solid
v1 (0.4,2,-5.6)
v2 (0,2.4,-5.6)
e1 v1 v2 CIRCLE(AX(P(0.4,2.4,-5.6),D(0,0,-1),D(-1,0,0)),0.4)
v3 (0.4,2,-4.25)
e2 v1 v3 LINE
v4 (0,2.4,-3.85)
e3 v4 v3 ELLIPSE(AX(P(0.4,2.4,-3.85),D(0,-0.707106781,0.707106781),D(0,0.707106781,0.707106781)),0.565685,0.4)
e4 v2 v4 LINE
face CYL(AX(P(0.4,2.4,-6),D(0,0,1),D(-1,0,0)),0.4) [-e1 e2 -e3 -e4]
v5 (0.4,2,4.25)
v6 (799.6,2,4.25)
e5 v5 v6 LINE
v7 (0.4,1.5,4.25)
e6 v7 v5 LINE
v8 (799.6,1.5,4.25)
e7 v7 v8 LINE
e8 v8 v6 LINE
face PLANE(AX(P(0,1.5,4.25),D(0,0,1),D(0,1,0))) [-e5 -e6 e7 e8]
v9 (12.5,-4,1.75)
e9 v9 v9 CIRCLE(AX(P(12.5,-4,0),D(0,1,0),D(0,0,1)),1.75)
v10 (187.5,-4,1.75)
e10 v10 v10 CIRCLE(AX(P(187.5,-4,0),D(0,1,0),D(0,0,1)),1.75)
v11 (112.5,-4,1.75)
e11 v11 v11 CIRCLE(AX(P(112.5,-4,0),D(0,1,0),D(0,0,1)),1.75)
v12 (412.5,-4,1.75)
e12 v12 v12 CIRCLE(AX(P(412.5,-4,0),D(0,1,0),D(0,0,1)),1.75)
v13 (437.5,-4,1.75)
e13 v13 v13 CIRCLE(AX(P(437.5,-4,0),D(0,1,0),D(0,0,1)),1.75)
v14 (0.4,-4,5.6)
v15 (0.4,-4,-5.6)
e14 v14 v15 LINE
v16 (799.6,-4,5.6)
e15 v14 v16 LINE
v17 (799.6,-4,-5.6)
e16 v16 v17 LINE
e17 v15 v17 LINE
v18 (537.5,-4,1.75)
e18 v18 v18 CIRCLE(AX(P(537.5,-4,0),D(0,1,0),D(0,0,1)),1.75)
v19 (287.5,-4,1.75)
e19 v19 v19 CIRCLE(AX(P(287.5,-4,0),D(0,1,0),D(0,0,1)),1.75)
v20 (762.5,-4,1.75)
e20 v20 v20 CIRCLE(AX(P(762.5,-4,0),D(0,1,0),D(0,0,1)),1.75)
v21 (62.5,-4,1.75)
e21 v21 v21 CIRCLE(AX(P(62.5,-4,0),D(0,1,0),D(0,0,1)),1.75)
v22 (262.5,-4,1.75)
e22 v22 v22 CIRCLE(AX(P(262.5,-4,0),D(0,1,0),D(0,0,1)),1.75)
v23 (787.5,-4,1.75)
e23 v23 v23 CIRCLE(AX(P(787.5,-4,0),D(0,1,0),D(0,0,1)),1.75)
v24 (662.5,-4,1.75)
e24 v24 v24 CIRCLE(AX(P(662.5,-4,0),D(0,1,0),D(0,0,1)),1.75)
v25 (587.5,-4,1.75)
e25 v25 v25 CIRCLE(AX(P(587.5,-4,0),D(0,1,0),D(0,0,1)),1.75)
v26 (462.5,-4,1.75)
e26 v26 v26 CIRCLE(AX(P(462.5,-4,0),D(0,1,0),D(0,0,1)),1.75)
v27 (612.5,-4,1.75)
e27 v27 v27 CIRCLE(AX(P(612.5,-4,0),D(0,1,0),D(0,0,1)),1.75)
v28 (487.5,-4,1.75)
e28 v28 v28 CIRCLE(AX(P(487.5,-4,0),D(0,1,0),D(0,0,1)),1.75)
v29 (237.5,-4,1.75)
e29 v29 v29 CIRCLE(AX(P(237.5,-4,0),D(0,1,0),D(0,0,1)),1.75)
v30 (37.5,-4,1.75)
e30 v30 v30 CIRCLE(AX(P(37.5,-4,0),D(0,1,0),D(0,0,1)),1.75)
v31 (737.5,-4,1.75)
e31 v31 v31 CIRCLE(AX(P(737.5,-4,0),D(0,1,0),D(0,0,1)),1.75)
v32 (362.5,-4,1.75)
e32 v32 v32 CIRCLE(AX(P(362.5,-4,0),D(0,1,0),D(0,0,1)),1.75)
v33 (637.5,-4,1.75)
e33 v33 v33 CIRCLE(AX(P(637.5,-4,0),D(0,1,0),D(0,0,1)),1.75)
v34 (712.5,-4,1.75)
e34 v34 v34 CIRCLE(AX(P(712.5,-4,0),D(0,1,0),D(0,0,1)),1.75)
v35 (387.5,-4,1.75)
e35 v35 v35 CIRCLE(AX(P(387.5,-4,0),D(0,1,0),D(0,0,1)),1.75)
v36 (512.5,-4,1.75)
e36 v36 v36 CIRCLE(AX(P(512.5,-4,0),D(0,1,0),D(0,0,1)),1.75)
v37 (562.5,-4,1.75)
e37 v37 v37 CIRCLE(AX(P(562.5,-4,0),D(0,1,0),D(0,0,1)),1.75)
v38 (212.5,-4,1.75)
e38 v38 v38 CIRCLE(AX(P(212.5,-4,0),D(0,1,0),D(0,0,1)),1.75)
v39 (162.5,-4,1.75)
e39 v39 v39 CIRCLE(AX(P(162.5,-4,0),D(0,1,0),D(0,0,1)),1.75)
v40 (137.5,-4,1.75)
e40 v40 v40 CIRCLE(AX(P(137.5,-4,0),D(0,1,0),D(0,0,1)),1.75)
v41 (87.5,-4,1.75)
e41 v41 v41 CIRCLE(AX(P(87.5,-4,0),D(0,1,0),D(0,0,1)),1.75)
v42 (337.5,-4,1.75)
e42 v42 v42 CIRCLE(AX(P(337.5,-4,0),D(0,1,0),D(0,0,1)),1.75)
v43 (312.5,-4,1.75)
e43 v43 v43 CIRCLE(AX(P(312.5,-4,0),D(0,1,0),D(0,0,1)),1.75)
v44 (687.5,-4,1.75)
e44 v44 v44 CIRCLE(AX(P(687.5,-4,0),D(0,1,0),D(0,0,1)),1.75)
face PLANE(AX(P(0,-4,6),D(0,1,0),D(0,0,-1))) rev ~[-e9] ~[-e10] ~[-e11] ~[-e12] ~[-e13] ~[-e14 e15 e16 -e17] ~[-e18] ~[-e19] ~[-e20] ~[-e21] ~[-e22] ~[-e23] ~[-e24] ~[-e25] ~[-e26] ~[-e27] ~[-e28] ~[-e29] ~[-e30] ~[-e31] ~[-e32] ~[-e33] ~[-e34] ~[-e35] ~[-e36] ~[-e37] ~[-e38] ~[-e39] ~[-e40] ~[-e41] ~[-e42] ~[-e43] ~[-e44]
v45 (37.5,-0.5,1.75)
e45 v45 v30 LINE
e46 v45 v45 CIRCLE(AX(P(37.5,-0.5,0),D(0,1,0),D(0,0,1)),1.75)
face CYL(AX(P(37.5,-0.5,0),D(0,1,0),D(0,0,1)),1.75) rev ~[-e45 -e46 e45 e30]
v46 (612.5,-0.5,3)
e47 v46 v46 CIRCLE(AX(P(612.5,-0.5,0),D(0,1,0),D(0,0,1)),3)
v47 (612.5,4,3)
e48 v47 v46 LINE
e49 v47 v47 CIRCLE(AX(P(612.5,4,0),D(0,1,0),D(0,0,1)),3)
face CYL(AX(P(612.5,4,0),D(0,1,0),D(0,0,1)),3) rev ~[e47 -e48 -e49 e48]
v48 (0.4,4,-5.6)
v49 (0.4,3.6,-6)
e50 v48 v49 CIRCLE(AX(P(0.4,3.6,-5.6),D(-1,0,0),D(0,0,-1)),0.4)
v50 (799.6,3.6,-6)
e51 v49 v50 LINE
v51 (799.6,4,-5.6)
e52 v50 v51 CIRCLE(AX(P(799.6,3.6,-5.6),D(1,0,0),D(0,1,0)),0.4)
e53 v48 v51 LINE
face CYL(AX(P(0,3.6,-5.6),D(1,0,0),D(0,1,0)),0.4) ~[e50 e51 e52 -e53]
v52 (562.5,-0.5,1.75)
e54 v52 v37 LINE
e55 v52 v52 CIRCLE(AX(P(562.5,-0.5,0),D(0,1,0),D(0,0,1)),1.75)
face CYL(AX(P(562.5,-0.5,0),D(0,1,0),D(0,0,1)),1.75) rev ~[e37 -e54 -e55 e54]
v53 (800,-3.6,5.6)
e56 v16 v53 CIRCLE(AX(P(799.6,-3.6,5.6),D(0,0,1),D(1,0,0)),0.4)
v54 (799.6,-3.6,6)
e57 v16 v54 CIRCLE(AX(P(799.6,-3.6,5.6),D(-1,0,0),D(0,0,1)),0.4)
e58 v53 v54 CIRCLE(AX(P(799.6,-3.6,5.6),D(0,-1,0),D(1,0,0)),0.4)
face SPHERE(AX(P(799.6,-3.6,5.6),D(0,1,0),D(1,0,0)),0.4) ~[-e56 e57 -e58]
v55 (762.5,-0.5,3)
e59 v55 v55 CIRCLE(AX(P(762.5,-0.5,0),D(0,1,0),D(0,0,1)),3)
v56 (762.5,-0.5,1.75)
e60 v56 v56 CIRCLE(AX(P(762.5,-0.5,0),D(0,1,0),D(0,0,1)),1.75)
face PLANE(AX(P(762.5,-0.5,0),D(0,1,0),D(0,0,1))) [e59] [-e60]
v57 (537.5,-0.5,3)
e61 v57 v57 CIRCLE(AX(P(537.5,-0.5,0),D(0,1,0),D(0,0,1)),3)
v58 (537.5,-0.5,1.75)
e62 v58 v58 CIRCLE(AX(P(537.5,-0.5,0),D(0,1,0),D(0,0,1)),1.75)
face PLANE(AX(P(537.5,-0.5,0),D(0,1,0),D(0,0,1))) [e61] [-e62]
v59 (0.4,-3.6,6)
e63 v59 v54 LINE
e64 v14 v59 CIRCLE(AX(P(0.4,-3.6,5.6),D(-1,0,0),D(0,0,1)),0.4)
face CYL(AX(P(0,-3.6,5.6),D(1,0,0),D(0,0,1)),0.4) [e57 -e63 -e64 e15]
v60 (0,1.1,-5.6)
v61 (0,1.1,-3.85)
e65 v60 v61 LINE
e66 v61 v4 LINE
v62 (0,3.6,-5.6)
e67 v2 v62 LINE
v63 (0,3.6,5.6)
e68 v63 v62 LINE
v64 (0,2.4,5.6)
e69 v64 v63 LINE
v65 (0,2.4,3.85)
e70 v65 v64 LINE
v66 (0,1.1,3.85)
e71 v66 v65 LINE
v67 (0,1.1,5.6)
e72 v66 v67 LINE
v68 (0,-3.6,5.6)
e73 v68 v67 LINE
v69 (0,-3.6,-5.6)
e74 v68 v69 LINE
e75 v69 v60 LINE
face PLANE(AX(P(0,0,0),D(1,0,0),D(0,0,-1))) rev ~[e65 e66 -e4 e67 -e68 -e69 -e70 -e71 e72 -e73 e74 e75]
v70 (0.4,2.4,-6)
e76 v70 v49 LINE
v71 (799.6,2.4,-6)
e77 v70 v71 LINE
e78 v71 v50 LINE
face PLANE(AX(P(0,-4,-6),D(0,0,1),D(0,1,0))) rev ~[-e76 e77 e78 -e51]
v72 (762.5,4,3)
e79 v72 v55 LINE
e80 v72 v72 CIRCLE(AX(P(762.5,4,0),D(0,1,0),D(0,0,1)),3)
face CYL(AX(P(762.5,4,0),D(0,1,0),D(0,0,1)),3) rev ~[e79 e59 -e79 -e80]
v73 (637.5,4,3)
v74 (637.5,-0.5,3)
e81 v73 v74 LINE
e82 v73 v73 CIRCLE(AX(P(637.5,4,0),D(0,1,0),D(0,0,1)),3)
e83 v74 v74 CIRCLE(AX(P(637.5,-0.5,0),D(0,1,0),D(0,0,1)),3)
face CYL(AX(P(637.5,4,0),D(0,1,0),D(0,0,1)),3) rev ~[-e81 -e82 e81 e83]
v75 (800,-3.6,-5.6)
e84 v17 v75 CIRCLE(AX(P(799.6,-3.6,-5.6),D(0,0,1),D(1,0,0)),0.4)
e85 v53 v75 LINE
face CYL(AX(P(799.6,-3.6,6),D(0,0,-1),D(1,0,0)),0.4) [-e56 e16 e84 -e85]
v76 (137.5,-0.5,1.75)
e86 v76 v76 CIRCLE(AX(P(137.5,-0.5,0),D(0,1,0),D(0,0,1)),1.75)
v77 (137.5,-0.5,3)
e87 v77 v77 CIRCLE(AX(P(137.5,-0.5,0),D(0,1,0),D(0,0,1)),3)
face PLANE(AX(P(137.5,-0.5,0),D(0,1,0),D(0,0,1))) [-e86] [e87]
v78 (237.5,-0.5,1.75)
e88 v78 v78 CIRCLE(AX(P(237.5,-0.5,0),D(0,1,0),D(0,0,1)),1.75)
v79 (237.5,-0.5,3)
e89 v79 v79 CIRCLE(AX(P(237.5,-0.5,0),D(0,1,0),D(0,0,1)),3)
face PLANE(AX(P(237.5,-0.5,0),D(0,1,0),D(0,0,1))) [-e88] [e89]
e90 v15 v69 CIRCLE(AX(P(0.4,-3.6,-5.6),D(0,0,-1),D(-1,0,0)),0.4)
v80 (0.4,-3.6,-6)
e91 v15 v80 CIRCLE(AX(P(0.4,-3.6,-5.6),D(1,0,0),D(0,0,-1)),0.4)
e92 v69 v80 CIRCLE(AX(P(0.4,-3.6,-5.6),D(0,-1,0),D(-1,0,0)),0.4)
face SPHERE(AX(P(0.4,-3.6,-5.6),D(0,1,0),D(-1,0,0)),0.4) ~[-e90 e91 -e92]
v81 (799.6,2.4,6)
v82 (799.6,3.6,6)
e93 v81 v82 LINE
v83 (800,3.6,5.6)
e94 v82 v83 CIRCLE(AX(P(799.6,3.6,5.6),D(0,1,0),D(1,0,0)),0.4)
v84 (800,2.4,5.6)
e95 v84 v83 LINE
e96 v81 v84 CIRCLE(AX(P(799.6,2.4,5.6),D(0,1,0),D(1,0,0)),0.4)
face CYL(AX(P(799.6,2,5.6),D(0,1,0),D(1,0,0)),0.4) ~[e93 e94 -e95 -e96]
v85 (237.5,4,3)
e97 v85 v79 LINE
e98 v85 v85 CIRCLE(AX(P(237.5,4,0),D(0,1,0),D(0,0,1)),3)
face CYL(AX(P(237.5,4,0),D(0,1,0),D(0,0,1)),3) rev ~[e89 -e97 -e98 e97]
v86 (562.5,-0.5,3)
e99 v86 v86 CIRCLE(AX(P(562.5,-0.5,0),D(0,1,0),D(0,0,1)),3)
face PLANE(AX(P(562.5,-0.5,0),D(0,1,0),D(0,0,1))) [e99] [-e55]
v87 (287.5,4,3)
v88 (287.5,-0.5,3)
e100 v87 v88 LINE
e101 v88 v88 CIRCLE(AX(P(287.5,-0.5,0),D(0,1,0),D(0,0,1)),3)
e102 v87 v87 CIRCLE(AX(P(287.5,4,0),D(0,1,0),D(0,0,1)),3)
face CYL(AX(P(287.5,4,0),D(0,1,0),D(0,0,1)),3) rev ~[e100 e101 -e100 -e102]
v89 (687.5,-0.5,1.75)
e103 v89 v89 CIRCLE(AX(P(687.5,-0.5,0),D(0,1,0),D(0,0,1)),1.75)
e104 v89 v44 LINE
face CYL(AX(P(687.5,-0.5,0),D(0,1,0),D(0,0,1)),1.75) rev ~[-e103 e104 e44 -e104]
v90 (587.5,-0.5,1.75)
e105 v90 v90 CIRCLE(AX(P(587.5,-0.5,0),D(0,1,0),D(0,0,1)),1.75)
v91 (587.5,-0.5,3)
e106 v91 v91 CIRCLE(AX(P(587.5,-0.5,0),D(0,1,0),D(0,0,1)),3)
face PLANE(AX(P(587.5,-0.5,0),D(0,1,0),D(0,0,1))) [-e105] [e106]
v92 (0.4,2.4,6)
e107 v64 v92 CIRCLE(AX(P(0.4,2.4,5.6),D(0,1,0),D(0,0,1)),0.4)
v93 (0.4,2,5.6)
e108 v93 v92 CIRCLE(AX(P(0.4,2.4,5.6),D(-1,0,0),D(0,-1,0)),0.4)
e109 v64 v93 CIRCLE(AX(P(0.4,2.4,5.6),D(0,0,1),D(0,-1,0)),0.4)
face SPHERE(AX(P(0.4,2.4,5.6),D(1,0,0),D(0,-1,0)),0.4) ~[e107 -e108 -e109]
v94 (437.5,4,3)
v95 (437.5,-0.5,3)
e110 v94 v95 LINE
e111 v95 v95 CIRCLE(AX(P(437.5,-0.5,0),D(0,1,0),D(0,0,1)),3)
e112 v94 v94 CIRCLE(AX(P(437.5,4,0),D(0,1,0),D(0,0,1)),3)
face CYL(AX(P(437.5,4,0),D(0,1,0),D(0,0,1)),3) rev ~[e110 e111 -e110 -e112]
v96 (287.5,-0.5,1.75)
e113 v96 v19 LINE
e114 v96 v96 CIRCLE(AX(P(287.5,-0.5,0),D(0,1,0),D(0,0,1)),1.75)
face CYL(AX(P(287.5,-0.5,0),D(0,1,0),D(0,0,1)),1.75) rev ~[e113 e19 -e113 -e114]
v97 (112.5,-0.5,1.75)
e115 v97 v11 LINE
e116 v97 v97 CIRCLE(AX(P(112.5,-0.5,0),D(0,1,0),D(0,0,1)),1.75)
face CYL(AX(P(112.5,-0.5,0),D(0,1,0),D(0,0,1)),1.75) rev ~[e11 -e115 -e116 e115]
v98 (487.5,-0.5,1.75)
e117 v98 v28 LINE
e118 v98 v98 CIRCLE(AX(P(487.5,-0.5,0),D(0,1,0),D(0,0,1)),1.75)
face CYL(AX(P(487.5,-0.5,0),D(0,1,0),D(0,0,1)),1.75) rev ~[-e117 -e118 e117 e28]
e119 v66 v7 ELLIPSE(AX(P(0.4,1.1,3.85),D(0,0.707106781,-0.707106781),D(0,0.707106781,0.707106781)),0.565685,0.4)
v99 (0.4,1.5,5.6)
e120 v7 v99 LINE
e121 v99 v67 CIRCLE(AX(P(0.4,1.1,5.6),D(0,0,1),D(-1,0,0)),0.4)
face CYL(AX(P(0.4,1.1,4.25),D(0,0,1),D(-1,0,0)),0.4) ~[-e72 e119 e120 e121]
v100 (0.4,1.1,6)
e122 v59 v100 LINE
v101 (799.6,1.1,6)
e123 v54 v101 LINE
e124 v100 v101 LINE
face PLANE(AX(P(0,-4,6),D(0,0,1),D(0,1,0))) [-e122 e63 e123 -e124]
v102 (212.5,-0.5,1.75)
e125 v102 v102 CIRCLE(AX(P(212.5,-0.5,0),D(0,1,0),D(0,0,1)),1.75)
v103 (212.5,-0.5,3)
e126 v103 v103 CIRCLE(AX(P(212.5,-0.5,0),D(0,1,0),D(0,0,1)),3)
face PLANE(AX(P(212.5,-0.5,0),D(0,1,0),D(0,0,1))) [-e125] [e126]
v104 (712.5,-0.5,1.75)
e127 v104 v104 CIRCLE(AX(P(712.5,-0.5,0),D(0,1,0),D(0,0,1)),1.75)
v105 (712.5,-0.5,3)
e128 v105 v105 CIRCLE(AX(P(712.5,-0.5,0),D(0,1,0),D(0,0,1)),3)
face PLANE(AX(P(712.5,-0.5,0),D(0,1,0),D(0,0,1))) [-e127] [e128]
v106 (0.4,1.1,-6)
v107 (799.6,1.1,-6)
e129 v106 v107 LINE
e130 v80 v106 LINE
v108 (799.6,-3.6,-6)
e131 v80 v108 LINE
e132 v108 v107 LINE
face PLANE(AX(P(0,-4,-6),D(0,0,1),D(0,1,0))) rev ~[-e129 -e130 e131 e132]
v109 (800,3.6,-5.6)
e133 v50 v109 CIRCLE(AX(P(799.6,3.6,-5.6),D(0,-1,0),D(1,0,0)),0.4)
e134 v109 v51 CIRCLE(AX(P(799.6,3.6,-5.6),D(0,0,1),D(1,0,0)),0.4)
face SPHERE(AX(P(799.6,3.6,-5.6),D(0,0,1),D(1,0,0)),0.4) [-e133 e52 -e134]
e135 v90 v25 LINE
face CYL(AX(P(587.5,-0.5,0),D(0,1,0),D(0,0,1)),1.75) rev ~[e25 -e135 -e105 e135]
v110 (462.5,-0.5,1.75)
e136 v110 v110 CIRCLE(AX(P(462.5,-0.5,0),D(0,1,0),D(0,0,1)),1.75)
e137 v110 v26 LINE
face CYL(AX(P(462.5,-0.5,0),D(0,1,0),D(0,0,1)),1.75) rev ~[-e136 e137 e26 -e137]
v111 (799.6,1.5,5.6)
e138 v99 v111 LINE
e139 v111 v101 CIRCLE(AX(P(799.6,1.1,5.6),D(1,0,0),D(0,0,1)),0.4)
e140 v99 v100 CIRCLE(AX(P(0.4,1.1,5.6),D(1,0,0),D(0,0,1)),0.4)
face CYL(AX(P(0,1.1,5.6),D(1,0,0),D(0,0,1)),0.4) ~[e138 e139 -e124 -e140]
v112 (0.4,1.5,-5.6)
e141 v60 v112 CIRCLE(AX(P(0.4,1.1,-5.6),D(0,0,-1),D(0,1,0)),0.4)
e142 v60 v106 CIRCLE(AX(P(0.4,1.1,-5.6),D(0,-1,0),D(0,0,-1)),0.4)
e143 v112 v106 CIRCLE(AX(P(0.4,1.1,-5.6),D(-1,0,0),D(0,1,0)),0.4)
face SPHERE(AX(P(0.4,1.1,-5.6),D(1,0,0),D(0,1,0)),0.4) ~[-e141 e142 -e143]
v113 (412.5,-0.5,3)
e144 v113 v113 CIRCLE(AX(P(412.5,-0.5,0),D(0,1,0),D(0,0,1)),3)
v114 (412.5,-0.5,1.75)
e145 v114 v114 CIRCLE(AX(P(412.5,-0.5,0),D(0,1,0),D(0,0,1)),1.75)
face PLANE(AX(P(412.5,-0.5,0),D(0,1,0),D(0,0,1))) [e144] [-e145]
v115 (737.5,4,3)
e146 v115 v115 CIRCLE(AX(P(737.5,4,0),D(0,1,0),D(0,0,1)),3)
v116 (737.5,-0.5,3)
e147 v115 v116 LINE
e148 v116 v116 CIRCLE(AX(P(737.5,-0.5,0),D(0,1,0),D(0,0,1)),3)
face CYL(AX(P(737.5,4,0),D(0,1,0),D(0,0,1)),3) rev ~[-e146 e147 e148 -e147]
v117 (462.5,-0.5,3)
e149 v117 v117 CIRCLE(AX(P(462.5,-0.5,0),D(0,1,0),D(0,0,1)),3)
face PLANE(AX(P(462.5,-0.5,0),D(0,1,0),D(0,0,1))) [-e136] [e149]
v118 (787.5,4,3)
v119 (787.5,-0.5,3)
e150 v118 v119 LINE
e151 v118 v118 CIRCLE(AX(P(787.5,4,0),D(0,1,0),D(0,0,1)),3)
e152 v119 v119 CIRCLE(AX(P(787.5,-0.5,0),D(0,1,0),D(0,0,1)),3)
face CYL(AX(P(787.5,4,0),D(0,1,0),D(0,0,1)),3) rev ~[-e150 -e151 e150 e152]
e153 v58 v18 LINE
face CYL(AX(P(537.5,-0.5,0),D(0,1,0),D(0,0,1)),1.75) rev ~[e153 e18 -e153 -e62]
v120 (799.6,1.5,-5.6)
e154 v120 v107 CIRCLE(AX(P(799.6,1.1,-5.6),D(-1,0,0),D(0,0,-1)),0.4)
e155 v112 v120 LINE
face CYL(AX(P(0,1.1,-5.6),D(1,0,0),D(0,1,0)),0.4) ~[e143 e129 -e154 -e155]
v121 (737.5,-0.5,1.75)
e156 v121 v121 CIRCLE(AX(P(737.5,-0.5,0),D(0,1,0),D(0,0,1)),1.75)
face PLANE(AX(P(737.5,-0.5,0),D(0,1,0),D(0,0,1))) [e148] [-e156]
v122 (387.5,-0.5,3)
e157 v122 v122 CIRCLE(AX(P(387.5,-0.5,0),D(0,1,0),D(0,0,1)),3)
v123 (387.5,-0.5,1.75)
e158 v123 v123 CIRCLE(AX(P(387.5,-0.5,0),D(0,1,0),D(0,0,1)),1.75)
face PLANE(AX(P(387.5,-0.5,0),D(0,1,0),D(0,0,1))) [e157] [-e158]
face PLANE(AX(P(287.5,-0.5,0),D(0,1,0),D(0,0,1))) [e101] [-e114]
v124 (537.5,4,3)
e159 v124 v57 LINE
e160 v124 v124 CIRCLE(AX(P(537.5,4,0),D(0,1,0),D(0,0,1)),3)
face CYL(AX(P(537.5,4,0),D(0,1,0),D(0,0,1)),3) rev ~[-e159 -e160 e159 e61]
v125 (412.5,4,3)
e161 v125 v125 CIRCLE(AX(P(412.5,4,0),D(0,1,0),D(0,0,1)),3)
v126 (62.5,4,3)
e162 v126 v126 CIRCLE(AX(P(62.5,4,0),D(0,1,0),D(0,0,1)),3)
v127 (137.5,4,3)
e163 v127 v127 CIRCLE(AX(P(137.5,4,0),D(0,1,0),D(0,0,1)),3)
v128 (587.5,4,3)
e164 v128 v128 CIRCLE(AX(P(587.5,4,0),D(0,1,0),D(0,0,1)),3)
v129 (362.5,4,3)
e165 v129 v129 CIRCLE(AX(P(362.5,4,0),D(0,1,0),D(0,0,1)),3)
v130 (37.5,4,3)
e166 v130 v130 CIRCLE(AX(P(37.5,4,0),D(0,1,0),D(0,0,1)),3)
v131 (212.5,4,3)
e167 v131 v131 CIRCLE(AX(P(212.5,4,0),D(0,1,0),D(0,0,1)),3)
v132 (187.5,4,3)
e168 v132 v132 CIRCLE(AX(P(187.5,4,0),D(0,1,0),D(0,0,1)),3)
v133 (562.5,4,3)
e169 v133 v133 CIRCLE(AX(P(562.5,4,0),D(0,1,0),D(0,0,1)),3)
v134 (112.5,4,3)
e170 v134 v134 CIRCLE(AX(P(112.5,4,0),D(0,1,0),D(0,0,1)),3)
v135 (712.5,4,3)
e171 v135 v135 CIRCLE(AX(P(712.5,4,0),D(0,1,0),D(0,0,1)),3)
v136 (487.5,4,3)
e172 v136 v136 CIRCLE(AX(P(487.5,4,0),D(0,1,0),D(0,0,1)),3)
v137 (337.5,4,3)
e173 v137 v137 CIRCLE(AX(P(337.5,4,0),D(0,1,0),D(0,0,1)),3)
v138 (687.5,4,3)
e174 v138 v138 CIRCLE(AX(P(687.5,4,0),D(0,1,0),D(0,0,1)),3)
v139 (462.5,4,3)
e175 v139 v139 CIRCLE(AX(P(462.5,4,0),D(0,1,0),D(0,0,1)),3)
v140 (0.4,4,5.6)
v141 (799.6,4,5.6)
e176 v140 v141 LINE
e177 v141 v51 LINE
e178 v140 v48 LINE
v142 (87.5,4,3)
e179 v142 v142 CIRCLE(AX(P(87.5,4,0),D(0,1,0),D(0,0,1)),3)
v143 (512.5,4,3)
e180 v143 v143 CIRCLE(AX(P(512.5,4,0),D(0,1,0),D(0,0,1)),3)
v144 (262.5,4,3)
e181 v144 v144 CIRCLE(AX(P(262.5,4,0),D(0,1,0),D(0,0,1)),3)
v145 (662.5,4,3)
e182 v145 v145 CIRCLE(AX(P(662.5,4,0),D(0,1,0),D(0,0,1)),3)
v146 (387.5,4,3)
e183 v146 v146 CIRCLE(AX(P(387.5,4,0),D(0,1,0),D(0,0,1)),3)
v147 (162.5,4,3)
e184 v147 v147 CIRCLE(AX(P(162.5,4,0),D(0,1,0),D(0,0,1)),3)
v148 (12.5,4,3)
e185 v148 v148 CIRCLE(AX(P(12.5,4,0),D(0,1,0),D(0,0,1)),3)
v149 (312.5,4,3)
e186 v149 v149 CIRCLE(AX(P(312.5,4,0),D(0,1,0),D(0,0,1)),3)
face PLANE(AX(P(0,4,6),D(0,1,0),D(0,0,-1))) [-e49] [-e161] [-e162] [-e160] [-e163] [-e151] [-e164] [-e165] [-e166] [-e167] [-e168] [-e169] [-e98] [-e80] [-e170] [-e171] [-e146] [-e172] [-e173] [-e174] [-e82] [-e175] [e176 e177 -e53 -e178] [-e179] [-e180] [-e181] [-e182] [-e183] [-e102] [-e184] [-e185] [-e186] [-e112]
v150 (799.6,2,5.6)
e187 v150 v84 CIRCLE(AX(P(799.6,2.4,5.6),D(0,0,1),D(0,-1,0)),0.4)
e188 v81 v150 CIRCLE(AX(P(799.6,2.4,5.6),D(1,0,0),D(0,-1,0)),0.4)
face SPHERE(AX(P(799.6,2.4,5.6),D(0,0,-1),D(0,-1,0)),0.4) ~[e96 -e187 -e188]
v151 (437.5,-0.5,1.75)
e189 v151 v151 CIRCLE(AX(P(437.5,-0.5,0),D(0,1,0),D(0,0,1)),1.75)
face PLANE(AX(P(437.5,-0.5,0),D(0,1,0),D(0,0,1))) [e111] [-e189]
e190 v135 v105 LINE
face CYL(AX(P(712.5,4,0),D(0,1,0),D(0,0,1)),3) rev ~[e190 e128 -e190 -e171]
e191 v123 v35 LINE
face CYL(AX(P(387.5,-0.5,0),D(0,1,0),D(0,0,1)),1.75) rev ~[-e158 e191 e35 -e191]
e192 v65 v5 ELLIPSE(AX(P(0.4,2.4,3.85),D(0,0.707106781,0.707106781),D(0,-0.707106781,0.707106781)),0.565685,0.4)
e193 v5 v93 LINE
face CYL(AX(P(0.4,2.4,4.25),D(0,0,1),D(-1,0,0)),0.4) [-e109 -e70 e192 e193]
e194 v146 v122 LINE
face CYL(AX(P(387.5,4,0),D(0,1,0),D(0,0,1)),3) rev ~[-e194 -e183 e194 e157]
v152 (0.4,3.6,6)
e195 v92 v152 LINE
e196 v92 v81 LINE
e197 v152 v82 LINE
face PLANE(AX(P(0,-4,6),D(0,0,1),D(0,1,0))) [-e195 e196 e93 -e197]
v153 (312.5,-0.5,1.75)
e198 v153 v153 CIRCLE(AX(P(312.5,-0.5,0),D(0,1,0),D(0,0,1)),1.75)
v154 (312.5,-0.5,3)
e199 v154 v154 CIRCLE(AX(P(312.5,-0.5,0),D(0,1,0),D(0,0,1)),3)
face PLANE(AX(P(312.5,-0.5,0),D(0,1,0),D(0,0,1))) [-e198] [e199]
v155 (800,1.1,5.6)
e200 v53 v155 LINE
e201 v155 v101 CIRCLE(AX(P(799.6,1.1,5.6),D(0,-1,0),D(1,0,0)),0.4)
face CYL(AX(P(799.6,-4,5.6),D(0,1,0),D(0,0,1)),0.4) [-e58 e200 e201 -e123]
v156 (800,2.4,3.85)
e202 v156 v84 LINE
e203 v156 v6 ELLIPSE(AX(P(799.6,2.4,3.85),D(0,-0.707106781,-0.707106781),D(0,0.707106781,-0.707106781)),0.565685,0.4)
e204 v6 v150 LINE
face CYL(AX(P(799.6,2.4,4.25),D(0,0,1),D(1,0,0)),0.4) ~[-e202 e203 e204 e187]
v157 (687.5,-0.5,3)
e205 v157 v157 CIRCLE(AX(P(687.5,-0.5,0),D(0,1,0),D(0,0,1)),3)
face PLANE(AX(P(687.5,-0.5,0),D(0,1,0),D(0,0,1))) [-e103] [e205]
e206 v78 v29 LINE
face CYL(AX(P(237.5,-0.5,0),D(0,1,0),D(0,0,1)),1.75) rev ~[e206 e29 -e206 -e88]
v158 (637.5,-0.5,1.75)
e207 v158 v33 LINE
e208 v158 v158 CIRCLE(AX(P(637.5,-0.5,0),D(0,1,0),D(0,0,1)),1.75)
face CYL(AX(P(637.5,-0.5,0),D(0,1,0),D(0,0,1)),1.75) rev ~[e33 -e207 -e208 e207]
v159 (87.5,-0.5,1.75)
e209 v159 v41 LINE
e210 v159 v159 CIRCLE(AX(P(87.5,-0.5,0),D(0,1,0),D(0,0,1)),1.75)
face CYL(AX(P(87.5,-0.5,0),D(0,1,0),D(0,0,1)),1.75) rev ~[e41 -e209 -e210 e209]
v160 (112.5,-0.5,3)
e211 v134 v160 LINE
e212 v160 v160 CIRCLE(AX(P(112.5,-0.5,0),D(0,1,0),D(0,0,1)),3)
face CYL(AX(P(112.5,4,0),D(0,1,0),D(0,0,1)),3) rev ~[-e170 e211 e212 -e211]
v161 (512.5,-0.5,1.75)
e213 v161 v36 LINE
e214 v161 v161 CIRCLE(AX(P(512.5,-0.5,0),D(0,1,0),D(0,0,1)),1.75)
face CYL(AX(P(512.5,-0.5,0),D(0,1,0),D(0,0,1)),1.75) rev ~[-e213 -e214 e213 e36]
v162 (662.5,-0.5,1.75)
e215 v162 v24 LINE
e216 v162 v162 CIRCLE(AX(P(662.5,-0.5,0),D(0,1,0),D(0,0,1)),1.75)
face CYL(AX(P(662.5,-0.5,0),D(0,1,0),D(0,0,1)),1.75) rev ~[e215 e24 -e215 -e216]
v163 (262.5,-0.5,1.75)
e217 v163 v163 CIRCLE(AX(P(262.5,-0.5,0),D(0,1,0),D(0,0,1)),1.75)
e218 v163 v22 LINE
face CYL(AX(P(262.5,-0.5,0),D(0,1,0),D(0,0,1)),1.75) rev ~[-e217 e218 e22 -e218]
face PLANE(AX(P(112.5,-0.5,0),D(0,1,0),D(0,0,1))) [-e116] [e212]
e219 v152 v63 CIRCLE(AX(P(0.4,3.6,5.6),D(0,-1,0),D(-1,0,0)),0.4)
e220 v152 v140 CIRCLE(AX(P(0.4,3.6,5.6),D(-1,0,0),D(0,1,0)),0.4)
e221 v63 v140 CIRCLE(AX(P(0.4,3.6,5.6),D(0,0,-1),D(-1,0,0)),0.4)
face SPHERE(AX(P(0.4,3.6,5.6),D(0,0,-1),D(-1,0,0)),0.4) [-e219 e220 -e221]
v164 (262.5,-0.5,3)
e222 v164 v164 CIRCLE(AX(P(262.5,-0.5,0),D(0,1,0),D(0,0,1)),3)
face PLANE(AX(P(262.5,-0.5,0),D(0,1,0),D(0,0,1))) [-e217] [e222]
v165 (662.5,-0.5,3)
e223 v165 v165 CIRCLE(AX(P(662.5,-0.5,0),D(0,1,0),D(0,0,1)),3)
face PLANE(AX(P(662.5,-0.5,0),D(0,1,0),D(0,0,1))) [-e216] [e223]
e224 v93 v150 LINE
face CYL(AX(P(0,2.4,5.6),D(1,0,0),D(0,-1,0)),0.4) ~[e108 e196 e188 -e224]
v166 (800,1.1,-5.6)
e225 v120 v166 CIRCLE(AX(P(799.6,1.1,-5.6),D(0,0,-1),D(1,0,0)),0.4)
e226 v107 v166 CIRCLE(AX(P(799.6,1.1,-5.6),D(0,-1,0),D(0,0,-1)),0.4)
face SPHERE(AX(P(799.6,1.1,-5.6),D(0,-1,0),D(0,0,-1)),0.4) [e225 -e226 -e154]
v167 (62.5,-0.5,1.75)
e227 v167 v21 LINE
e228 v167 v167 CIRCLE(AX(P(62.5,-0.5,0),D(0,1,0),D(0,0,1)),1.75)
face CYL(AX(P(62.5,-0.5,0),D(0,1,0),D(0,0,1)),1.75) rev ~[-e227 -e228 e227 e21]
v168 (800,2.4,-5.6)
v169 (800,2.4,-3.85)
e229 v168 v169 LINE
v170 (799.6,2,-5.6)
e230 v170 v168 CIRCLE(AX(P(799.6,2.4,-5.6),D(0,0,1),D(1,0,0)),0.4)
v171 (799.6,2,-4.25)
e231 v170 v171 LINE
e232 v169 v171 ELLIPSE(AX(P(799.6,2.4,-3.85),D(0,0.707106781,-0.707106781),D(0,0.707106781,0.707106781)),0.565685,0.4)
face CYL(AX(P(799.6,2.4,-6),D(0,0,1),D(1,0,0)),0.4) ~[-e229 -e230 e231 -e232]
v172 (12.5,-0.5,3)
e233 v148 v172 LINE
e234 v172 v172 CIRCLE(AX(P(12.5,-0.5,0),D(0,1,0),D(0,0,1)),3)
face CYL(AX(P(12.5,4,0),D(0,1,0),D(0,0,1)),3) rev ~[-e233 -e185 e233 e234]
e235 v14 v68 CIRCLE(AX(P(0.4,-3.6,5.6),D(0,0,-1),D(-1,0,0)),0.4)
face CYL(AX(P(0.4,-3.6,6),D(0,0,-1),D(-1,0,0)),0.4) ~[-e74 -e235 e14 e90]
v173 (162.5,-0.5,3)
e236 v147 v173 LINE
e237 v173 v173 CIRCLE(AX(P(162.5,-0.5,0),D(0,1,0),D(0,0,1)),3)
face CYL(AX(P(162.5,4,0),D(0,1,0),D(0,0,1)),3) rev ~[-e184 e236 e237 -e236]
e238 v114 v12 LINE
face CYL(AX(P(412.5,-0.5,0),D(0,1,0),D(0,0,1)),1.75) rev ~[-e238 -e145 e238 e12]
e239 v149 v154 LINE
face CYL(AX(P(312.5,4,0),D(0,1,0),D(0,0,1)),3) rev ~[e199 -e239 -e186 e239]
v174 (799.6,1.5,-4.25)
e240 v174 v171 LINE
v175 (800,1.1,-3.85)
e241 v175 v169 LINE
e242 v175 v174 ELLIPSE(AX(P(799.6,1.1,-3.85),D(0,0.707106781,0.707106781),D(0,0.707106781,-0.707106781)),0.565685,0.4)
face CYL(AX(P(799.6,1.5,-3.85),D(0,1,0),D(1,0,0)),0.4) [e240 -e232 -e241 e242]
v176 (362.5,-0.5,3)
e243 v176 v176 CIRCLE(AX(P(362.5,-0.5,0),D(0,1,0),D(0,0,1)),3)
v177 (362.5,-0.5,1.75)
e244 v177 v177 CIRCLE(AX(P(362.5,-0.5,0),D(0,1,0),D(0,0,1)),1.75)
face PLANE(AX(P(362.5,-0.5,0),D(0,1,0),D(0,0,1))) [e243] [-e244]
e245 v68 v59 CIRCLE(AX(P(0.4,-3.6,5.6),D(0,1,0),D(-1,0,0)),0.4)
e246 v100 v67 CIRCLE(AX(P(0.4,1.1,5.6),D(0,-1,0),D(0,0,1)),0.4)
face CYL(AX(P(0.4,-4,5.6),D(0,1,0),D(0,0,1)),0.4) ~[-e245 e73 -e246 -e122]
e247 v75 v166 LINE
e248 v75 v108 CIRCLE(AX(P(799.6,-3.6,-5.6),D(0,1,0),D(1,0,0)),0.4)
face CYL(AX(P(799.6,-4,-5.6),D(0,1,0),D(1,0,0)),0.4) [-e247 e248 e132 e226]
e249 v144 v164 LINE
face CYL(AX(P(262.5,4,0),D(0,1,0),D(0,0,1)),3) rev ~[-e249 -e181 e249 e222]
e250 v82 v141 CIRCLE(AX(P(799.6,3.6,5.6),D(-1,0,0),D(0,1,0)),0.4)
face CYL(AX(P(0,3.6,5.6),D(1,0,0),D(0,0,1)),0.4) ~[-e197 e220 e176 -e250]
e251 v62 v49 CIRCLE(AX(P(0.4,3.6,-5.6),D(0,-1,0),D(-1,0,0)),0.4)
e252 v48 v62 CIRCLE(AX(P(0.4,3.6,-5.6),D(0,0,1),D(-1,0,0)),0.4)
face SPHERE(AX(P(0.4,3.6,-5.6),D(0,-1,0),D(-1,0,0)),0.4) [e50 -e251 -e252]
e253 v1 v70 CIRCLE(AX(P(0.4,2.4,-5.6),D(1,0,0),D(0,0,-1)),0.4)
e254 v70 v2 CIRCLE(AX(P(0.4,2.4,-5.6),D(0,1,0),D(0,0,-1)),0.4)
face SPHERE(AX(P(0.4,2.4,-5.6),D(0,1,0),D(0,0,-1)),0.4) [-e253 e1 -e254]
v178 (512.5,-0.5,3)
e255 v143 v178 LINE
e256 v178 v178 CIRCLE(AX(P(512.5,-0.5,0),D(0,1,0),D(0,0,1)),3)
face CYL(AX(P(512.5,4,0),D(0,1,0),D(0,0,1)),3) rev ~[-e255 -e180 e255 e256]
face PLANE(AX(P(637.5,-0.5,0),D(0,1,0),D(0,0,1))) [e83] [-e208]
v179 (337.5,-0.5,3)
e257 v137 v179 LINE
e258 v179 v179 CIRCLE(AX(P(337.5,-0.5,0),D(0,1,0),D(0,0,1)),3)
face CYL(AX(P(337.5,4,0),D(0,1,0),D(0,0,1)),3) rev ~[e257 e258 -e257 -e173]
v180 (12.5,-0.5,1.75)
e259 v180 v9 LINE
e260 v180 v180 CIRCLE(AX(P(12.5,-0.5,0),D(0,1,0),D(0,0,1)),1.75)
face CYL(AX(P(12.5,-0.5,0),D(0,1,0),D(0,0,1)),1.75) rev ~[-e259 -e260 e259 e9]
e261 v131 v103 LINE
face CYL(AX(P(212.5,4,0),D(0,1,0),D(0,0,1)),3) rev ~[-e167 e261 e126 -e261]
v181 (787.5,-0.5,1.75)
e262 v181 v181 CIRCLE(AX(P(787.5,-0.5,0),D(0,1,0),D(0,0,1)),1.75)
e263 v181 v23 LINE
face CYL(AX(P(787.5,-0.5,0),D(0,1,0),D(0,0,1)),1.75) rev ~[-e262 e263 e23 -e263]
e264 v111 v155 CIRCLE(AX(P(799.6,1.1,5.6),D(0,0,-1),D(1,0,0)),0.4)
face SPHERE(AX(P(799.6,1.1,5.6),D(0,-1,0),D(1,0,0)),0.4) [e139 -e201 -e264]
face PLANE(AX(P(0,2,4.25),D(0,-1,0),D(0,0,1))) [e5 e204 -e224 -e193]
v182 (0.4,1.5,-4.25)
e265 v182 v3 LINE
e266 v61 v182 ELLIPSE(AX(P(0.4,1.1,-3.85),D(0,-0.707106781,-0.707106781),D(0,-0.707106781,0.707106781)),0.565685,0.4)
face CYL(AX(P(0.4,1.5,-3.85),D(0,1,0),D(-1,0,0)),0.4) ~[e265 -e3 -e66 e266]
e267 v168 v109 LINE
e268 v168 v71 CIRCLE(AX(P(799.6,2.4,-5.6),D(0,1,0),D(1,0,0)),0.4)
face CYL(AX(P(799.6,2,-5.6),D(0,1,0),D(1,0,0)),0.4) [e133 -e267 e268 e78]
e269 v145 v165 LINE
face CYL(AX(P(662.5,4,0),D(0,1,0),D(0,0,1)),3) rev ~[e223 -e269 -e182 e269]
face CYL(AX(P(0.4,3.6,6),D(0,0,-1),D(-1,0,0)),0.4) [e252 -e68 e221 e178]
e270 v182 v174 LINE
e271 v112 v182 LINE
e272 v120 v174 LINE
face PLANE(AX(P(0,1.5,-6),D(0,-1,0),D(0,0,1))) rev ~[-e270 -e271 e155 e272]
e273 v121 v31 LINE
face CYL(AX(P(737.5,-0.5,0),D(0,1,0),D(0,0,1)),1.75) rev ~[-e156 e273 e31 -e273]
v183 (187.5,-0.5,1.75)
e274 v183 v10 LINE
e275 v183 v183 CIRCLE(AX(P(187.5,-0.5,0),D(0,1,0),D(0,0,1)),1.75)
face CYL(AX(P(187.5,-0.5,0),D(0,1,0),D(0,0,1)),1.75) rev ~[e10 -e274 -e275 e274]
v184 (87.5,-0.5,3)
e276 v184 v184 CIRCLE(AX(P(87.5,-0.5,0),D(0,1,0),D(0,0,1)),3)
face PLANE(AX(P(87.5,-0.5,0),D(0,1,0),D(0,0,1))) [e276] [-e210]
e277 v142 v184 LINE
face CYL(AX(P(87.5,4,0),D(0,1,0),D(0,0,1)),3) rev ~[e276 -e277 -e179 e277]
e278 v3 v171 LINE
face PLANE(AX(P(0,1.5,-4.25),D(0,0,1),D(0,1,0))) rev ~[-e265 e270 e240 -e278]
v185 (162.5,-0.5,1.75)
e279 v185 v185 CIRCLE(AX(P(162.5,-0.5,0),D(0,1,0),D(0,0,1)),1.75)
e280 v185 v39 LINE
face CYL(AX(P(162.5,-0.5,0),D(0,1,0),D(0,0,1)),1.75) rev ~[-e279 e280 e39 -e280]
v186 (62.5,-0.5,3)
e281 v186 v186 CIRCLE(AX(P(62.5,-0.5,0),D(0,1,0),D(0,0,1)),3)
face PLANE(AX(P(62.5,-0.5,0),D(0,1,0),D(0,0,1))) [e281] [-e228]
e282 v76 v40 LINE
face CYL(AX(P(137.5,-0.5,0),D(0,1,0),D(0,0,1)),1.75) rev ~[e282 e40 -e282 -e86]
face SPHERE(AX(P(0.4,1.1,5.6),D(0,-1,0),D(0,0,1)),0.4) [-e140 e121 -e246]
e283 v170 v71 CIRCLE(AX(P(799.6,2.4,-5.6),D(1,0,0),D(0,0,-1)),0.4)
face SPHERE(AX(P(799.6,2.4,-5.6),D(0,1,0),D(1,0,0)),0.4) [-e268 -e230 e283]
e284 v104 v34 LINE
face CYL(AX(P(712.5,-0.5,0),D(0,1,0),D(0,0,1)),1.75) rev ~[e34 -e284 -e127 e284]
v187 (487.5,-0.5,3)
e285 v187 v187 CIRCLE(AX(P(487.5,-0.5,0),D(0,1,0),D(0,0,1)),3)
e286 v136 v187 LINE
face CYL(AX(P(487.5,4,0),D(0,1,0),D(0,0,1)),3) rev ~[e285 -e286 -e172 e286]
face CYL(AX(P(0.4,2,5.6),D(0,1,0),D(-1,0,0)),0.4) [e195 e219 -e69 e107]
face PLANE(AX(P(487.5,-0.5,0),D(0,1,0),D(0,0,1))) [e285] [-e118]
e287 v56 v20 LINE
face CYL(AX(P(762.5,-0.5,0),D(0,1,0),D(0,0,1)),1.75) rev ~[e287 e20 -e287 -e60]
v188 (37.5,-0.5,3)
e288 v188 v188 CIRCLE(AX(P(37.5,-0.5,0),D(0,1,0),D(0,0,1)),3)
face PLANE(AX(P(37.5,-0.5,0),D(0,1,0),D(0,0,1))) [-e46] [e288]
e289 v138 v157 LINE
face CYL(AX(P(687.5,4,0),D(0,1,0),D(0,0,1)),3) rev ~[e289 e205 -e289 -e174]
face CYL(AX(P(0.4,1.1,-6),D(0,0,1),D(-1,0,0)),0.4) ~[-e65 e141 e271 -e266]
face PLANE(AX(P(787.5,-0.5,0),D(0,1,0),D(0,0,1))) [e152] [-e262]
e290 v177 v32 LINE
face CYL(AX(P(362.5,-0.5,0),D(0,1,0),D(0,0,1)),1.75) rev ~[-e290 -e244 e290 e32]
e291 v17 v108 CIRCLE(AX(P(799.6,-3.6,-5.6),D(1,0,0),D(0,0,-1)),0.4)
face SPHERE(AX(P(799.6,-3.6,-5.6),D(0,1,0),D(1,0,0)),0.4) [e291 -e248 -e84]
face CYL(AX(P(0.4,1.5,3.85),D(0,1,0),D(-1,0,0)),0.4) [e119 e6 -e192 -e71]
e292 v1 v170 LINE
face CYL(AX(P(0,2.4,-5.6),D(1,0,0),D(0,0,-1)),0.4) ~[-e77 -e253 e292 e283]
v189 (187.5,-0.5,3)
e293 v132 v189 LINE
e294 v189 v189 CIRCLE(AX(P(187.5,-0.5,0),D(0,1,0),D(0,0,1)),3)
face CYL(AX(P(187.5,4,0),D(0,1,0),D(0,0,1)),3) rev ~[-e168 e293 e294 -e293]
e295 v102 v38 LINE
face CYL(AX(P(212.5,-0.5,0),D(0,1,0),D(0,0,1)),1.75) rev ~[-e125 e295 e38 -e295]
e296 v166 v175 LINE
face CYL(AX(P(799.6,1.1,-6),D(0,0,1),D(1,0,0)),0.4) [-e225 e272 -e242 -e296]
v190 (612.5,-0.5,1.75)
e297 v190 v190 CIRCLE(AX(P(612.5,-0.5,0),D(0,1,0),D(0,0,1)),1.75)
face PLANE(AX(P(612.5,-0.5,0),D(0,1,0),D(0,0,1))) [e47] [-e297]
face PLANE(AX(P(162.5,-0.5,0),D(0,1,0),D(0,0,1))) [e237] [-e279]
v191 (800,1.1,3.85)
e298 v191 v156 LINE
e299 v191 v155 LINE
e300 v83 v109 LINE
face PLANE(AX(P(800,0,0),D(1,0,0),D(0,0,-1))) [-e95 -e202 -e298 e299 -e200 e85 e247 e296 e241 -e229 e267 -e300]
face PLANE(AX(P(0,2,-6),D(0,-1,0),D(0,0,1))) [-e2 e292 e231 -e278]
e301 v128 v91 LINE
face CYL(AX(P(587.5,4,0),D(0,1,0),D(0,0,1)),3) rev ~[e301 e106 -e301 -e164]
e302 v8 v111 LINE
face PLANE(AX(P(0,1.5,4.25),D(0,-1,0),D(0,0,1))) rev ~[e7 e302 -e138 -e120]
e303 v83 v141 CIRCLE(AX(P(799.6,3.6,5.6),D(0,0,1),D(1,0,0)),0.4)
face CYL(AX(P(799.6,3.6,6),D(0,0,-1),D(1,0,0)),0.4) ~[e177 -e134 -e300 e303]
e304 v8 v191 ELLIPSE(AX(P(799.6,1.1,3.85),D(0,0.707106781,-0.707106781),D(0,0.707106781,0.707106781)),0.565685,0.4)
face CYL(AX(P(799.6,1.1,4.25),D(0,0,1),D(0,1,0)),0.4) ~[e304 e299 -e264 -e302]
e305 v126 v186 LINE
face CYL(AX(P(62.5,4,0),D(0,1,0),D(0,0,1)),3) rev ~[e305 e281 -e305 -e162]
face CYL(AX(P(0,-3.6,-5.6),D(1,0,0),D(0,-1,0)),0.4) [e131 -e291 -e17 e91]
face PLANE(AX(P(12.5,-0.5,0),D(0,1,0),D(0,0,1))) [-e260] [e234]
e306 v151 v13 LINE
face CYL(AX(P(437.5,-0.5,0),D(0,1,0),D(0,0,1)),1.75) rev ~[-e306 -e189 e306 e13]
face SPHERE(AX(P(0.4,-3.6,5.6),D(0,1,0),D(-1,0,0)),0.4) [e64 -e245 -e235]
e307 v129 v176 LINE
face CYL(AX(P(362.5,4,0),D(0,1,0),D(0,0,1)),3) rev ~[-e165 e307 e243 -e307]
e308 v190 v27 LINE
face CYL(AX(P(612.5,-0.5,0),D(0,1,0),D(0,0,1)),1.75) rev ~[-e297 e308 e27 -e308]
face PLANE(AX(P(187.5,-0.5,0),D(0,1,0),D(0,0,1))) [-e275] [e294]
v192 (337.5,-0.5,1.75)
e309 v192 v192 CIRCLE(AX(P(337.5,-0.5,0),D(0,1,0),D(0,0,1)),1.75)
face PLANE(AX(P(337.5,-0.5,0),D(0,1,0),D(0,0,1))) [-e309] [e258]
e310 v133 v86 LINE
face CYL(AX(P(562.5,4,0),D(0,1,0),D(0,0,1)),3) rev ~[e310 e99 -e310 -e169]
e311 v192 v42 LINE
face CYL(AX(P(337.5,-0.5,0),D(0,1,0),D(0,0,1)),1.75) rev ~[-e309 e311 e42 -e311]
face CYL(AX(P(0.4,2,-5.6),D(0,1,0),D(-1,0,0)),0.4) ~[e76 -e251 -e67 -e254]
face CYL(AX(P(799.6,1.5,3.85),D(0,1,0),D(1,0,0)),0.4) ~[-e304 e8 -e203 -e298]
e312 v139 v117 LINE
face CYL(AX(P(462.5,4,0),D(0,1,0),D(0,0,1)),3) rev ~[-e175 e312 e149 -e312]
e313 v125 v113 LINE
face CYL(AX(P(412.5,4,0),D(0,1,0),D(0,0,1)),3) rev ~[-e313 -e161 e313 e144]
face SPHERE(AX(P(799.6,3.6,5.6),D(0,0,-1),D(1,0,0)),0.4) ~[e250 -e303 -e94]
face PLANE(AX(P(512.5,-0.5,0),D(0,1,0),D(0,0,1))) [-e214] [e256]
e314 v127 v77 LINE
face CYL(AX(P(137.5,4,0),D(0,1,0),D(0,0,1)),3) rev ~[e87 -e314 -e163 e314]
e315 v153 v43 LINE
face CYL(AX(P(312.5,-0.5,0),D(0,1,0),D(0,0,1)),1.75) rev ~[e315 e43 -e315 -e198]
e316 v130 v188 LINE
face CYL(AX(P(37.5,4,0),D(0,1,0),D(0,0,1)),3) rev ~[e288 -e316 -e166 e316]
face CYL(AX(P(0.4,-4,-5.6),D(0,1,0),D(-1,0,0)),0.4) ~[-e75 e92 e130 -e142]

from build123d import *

# Parameters (mm, degrees)
SKETCH1_W           = 12
SKETCH1_H           = 8
BOSS_EXTRUDE1_DEPTH = 800
SKETCH2_R           = 3
CUT_EXTRUDE1_DEPTH  = 4.5
SKETCH3_R           = 1.75
CUT_EXTRUDE2_DEPTH  = 3.5
CUT_EXTRUDE3_REACH  = 802.032
SKETCH4_W           = 1.75
SKETCH4_H           = 0.5
FILLET2_R           = 0.4


with BuildPart() as part:
    # Sketch1 → Boss-Extrude1 (new body)
    with BuildSketch(Plane(origin=(0, 0, 0), x_dir=(0, 0, -1), z_dir=(1, 0, 0))):
        Rectangle(SKETCH1_W, SKETCH1_H)
    extrude(amount=BOSS_EXTRUDE1_DEPTH)

    # Sketch2 → Cut-Extrude1 (cut)
    with BuildSketch(Plane(origin=(0, 4, 0), x_dir=(1, 0, 0), z_dir=(0, 1, 0))):
        with Locations(Location((412.5, 0, 0), (0, 0, 270))):
            Circle(SKETCH2_R)
        with Locations(Location((437.5, 0, 0), (0, 0, 270))):
            Circle(SKETCH2_R)
        with Locations(Location((462.5, 0, 0), (0, 0, 270))):
            Circle(SKETCH2_R)
        with Locations(Location((487.5, 0, 0), (0, 0, 270))):
            Circle(SKETCH2_R)
        with Locations(Location((512.5, 0, 0), (0, 0, 270))):
            Circle(SKETCH2_R)
        with Locations(Location((537.5, 0, 0), (0, 0, 270))):
            Circle(SKETCH2_R)
        with Locations(Location((562.5, 0, 0), (0, 0, 270))):
            Circle(SKETCH2_R)
        with Locations(Location((587.5, 0, 0), (0, 0, 270))):
            Circle(SKETCH2_R)
        with Locations(Location((612.5, 0, 0), (0, 0, 270))):
            Circle(SKETCH2_R)
        with Locations(Location((637.5, 0, 0), (0, 0, 270))):
            Circle(SKETCH2_R)
        with Locations(Location((662.5, 0, 0), (0, 0, 270))):
            Circle(SKETCH2_R)
        with Locations(Location((687.5, 0, 0), (0, 0, 270))):
            Circle(SKETCH2_R)
        with Locations(Location((712.5, 0, 0), (0, 0, 270))):
            Circle(SKETCH2_R)
        with Locations(Location((737.5, 0, 0), (0, 0, 270))):
            Circle(SKETCH2_R)
        with Locations(Location((762.5, 0, 0), (0, 0, 270))):
            Circle(SKETCH2_R)
        with Locations(Location((787.5, 0, 0), (0, 0, 270))):
            Circle(SKETCH2_R)
        with Locations(Location((387.5, 0, 0), (0, 0, 270))):
            Circle(SKETCH2_R)
        with Locations(Location((362.5, 0, 0), (0, 0, 270))):
            Circle(SKETCH2_R)
        with Locations(Location((337.5, 0, 0), (0, 0, 270))):
            Circle(SKETCH2_R)
        with Locations(Location((312.5, 0, 0), (0, 0, 270))):
            Circle(SKETCH2_R)
        with Locations(Location((287.5, 0, 0), (0, 0, 270))):
            Circle(SKETCH2_R)
        with Locations(Location((262.5, 0, 0), (0, 0, 270))):
            Circle(SKETCH2_R)
        with Locations(Location((237.5, 0, 0), (0, 0, 270))):
            Circle(SKETCH2_R)
        with Locations(Location((212.5, 0, 0), (0, 0, 270))):
            Circle(SKETCH2_R)
        with Locations(Location((187.5, 0, 0), (0, 0, 270))):
            Circle(SKETCH2_R)
        with Locations(Location((162.5, 0, 0), (0, 0, 270))):
            Circle(SKETCH2_R)
        with Locations(Location((137.5, 0, 0), (0, 0, 270))):
            Circle(SKETCH2_R)
        with Locations(Location((112.5, 0, 0), (0, 0, 270))):
            Circle(SKETCH2_R)
        with Locations(Location((87.5, 0, 0), (0, 0, 270))):
            Circle(SKETCH2_R)
        with Locations(Location((62.5, 0, 0), (0, 0, 270))):
            Circle(SKETCH2_R)
        with Locations(Location((37.5, 0, 0), (0, 0, 270))):
            Circle(SKETCH2_R)
        with Locations(Location((12.5, 0, 0), (0, 0, 270))):
            Circle(SKETCH2_R)
    extrude(amount=-CUT_EXTRUDE1_DEPTH, mode=Mode.SUBTRACT)

    # Sketch3 → Cut-Extrude2 (cut)
    with BuildSketch(Plane(origin=(0, -0.5, 0), x_dir=(1, 0, 0), z_dir=(0, 1, 0))):
        with Locations(Location((12.5, 0, 0), (0, 0, 270))):
            Circle(SKETCH3_R)
        with Locations(Location((37.5, 0, 0), (0, 0, 270))):
            Circle(SKETCH3_R)
        with Locations(Location((62.5, 0, 0), (0, 0, 270))):
            Circle(SKETCH3_R)
        with Locations(Location((87.5, 0, 0), (0, 0, 270))):
            Circle(SKETCH3_R)
        with Locations(Location((112.5, 0, 0), (0, 0, 270))):
            Circle(SKETCH3_R)
        with Locations(Location((137.5, 0, 0), (0, 0, 270))):
            Circle(SKETCH3_R)
        with Locations(Location((162.5, 0, 0), (0, 0, 270))):
            Circle(SKETCH3_R)
        with Locations(Location((187.5, 0, 0), (0, 0, 270))):
            Circle(SKETCH3_R)
        with Locations(Location((212.5, 0, 0), (0, 0, 270))):
            Circle(SKETCH3_R)
        with Locations(Location((237.5, 0, 0), (0, 0, 270))):
            Circle(SKETCH3_R)
        with Locations(Location((262.5, 0, 0), (0, 0, 270))):
            Circle(SKETCH3_R)
        with Locations(Location((287.5, 0, 0), (0, 0, 270))):
            Circle(SKETCH3_R)
        with Locations(Location((312.5, 0, 0), (0, 0, 270))):
            Circle(SKETCH3_R)
        with Locations(Location((337.5, 0, 0), (0, 0, 270))):
            Circle(SKETCH3_R)
        with Locations(Location((362.5, 0, 0), (0, 0, 270))):
            Circle(SKETCH3_R)
        with Locations(Location((387.5, 0, 0), (0, 0, 270))):
            Circle(SKETCH3_R)
        with Locations(Location((412.5, 0, 0), (0, 0, 270))):
            Circle(SKETCH3_R)
        with Locations(Location((437.5, 0, 0), (0, 0, 270))):
            Circle(SKETCH3_R)
        with Locations(Location((462.5, 0, 0), (0, 0, 270))):
            Circle(SKETCH3_R)
        with Locations(Location((487.5, 0, 0), (0, 0, 270))):
            Circle(SKETCH3_R)
        with Locations(Location((512.5, 0, 0), (0, 0, 270))):
            Circle(SKETCH3_R)
        with Locations(Location((537.5, 0, 0), (0, 0, 270))):
            Circle(SKETCH3_R)
        with Locations(Location((562.5, 0, 0), (0, 0, 270))):
            Circle(SKETCH3_R)
        with Locations(Location((587.5, 0, 0), (0, 0, 270))):
            Circle(SKETCH3_R)
        with Locations(Location((612.5, 0, 0), (0, 0, 270))):
            Circle(SKETCH3_R)
        with Locations(Location((637.5, 0, 0), (0, 0, 270))):
            Circle(SKETCH3_R)
        with Locations(Location((662.5, 0, 0), (0, 0, 270))):
            Circle(SKETCH3_R)
        with Locations(Location((687.5, 0, 0), (0, 0, 270))):
            Circle(SKETCH3_R)
        with Locations(Location((712.5, 0, 0), (0, 0, 270))):
            Circle(SKETCH3_R)
        with Locations(Location((737.5, 0, 0), (0, 0, 270))):
            Circle(SKETCH3_R)
        with Locations(Location((762.5, 0, 0), (0, 0, 270))):
            Circle(SKETCH3_R)
        with Locations(Location((787.5, 0, 0), (0, 0, 270))):
            Circle(SKETCH3_R)
    extrude(amount=-CUT_EXTRUDE2_DEPTH, mode=Mode.SUBTRACT)

    # Sketch4 → Cut-Extrude3 (cut, up to next)
    with BuildSketch(Plane.ZY, mode=Mode.PRIVATE) as cut_extrude3_sk1:
        with Locations((-5.125, 1.75)):
            Rectangle(SKETCH4_W, SKETCH4_H)
    cut_extrude3_tool1 = extrude(cut_extrude3_sk1.sketch, amount=-CUT_EXTRUDE3_REACH, mode=Mode.PRIVATE) & part.part
    # Sketch4 → Cut-Extrude3 (cut, up to next)
    with BuildSketch(Plane.ZY, mode=Mode.PRIVATE) as cut_extrude3_sk2:
        with Locations((5.125, 1.75)):
            Rectangle(SKETCH4_W, SKETCH4_H)
    cut_extrude3_tool2 = extrude(cut_extrude3_sk2.sketch, amount=-CUT_EXTRUDE3_REACH, mode=Mode.PRIVATE) & part.part
    add(cut_extrude3_tool1.solids().sort_by_distance((0, 1.75, -5.125))[0], mode=Mode.SUBTRACT)
    add(cut_extrude3_tool2.solids().sort_by_distance((0, 1.75, 5.125))[0], mode=Mode.SUBTRACT)

    # Fillet2
    fillet2_edges = [part.edges().sort_by_distance(p)[0] for p in [
        (800, -1.25, -6),
        (800, 4, 0),
        (0, 3, -6),
        (800, 3, -6),
        (400, 1.5, -6),
        (800, 2, -5.125),
        (400, 2, -6),
        (800, 1.75, -4.25),
        (800, 1.5, -5.125),
        (0, 1.5, -5.125),
        (0, 1.75, -4.25),
        (0, 2, -5.125),
        (0, -1.25, 6),
        (800, -1.25, 6),
        (800, 1.5, 5.125),
        (400, 1.5, 6),
        (800, 1.75, 4.25),
        (800, 2, 5.125),
        (400, 2, 6),
        (0, 1.5, 5.125),
        (0, 2, 5.125),
        (0, 1.75, 4.25),
        (800, 3, 6),
        (0, 4, 0),
        (0, -1.25, -6),
        (0, -4, 0),
        (0, 3, 6),
        (800, -4, 0),
        (400, 4, 6),
        (400, 4, -6),
        (400, -4, -6),
        (400, -4, 6),
    ]]
    fillet(fillet2_edges, radius=FILLET2_R)


solid = part.part
